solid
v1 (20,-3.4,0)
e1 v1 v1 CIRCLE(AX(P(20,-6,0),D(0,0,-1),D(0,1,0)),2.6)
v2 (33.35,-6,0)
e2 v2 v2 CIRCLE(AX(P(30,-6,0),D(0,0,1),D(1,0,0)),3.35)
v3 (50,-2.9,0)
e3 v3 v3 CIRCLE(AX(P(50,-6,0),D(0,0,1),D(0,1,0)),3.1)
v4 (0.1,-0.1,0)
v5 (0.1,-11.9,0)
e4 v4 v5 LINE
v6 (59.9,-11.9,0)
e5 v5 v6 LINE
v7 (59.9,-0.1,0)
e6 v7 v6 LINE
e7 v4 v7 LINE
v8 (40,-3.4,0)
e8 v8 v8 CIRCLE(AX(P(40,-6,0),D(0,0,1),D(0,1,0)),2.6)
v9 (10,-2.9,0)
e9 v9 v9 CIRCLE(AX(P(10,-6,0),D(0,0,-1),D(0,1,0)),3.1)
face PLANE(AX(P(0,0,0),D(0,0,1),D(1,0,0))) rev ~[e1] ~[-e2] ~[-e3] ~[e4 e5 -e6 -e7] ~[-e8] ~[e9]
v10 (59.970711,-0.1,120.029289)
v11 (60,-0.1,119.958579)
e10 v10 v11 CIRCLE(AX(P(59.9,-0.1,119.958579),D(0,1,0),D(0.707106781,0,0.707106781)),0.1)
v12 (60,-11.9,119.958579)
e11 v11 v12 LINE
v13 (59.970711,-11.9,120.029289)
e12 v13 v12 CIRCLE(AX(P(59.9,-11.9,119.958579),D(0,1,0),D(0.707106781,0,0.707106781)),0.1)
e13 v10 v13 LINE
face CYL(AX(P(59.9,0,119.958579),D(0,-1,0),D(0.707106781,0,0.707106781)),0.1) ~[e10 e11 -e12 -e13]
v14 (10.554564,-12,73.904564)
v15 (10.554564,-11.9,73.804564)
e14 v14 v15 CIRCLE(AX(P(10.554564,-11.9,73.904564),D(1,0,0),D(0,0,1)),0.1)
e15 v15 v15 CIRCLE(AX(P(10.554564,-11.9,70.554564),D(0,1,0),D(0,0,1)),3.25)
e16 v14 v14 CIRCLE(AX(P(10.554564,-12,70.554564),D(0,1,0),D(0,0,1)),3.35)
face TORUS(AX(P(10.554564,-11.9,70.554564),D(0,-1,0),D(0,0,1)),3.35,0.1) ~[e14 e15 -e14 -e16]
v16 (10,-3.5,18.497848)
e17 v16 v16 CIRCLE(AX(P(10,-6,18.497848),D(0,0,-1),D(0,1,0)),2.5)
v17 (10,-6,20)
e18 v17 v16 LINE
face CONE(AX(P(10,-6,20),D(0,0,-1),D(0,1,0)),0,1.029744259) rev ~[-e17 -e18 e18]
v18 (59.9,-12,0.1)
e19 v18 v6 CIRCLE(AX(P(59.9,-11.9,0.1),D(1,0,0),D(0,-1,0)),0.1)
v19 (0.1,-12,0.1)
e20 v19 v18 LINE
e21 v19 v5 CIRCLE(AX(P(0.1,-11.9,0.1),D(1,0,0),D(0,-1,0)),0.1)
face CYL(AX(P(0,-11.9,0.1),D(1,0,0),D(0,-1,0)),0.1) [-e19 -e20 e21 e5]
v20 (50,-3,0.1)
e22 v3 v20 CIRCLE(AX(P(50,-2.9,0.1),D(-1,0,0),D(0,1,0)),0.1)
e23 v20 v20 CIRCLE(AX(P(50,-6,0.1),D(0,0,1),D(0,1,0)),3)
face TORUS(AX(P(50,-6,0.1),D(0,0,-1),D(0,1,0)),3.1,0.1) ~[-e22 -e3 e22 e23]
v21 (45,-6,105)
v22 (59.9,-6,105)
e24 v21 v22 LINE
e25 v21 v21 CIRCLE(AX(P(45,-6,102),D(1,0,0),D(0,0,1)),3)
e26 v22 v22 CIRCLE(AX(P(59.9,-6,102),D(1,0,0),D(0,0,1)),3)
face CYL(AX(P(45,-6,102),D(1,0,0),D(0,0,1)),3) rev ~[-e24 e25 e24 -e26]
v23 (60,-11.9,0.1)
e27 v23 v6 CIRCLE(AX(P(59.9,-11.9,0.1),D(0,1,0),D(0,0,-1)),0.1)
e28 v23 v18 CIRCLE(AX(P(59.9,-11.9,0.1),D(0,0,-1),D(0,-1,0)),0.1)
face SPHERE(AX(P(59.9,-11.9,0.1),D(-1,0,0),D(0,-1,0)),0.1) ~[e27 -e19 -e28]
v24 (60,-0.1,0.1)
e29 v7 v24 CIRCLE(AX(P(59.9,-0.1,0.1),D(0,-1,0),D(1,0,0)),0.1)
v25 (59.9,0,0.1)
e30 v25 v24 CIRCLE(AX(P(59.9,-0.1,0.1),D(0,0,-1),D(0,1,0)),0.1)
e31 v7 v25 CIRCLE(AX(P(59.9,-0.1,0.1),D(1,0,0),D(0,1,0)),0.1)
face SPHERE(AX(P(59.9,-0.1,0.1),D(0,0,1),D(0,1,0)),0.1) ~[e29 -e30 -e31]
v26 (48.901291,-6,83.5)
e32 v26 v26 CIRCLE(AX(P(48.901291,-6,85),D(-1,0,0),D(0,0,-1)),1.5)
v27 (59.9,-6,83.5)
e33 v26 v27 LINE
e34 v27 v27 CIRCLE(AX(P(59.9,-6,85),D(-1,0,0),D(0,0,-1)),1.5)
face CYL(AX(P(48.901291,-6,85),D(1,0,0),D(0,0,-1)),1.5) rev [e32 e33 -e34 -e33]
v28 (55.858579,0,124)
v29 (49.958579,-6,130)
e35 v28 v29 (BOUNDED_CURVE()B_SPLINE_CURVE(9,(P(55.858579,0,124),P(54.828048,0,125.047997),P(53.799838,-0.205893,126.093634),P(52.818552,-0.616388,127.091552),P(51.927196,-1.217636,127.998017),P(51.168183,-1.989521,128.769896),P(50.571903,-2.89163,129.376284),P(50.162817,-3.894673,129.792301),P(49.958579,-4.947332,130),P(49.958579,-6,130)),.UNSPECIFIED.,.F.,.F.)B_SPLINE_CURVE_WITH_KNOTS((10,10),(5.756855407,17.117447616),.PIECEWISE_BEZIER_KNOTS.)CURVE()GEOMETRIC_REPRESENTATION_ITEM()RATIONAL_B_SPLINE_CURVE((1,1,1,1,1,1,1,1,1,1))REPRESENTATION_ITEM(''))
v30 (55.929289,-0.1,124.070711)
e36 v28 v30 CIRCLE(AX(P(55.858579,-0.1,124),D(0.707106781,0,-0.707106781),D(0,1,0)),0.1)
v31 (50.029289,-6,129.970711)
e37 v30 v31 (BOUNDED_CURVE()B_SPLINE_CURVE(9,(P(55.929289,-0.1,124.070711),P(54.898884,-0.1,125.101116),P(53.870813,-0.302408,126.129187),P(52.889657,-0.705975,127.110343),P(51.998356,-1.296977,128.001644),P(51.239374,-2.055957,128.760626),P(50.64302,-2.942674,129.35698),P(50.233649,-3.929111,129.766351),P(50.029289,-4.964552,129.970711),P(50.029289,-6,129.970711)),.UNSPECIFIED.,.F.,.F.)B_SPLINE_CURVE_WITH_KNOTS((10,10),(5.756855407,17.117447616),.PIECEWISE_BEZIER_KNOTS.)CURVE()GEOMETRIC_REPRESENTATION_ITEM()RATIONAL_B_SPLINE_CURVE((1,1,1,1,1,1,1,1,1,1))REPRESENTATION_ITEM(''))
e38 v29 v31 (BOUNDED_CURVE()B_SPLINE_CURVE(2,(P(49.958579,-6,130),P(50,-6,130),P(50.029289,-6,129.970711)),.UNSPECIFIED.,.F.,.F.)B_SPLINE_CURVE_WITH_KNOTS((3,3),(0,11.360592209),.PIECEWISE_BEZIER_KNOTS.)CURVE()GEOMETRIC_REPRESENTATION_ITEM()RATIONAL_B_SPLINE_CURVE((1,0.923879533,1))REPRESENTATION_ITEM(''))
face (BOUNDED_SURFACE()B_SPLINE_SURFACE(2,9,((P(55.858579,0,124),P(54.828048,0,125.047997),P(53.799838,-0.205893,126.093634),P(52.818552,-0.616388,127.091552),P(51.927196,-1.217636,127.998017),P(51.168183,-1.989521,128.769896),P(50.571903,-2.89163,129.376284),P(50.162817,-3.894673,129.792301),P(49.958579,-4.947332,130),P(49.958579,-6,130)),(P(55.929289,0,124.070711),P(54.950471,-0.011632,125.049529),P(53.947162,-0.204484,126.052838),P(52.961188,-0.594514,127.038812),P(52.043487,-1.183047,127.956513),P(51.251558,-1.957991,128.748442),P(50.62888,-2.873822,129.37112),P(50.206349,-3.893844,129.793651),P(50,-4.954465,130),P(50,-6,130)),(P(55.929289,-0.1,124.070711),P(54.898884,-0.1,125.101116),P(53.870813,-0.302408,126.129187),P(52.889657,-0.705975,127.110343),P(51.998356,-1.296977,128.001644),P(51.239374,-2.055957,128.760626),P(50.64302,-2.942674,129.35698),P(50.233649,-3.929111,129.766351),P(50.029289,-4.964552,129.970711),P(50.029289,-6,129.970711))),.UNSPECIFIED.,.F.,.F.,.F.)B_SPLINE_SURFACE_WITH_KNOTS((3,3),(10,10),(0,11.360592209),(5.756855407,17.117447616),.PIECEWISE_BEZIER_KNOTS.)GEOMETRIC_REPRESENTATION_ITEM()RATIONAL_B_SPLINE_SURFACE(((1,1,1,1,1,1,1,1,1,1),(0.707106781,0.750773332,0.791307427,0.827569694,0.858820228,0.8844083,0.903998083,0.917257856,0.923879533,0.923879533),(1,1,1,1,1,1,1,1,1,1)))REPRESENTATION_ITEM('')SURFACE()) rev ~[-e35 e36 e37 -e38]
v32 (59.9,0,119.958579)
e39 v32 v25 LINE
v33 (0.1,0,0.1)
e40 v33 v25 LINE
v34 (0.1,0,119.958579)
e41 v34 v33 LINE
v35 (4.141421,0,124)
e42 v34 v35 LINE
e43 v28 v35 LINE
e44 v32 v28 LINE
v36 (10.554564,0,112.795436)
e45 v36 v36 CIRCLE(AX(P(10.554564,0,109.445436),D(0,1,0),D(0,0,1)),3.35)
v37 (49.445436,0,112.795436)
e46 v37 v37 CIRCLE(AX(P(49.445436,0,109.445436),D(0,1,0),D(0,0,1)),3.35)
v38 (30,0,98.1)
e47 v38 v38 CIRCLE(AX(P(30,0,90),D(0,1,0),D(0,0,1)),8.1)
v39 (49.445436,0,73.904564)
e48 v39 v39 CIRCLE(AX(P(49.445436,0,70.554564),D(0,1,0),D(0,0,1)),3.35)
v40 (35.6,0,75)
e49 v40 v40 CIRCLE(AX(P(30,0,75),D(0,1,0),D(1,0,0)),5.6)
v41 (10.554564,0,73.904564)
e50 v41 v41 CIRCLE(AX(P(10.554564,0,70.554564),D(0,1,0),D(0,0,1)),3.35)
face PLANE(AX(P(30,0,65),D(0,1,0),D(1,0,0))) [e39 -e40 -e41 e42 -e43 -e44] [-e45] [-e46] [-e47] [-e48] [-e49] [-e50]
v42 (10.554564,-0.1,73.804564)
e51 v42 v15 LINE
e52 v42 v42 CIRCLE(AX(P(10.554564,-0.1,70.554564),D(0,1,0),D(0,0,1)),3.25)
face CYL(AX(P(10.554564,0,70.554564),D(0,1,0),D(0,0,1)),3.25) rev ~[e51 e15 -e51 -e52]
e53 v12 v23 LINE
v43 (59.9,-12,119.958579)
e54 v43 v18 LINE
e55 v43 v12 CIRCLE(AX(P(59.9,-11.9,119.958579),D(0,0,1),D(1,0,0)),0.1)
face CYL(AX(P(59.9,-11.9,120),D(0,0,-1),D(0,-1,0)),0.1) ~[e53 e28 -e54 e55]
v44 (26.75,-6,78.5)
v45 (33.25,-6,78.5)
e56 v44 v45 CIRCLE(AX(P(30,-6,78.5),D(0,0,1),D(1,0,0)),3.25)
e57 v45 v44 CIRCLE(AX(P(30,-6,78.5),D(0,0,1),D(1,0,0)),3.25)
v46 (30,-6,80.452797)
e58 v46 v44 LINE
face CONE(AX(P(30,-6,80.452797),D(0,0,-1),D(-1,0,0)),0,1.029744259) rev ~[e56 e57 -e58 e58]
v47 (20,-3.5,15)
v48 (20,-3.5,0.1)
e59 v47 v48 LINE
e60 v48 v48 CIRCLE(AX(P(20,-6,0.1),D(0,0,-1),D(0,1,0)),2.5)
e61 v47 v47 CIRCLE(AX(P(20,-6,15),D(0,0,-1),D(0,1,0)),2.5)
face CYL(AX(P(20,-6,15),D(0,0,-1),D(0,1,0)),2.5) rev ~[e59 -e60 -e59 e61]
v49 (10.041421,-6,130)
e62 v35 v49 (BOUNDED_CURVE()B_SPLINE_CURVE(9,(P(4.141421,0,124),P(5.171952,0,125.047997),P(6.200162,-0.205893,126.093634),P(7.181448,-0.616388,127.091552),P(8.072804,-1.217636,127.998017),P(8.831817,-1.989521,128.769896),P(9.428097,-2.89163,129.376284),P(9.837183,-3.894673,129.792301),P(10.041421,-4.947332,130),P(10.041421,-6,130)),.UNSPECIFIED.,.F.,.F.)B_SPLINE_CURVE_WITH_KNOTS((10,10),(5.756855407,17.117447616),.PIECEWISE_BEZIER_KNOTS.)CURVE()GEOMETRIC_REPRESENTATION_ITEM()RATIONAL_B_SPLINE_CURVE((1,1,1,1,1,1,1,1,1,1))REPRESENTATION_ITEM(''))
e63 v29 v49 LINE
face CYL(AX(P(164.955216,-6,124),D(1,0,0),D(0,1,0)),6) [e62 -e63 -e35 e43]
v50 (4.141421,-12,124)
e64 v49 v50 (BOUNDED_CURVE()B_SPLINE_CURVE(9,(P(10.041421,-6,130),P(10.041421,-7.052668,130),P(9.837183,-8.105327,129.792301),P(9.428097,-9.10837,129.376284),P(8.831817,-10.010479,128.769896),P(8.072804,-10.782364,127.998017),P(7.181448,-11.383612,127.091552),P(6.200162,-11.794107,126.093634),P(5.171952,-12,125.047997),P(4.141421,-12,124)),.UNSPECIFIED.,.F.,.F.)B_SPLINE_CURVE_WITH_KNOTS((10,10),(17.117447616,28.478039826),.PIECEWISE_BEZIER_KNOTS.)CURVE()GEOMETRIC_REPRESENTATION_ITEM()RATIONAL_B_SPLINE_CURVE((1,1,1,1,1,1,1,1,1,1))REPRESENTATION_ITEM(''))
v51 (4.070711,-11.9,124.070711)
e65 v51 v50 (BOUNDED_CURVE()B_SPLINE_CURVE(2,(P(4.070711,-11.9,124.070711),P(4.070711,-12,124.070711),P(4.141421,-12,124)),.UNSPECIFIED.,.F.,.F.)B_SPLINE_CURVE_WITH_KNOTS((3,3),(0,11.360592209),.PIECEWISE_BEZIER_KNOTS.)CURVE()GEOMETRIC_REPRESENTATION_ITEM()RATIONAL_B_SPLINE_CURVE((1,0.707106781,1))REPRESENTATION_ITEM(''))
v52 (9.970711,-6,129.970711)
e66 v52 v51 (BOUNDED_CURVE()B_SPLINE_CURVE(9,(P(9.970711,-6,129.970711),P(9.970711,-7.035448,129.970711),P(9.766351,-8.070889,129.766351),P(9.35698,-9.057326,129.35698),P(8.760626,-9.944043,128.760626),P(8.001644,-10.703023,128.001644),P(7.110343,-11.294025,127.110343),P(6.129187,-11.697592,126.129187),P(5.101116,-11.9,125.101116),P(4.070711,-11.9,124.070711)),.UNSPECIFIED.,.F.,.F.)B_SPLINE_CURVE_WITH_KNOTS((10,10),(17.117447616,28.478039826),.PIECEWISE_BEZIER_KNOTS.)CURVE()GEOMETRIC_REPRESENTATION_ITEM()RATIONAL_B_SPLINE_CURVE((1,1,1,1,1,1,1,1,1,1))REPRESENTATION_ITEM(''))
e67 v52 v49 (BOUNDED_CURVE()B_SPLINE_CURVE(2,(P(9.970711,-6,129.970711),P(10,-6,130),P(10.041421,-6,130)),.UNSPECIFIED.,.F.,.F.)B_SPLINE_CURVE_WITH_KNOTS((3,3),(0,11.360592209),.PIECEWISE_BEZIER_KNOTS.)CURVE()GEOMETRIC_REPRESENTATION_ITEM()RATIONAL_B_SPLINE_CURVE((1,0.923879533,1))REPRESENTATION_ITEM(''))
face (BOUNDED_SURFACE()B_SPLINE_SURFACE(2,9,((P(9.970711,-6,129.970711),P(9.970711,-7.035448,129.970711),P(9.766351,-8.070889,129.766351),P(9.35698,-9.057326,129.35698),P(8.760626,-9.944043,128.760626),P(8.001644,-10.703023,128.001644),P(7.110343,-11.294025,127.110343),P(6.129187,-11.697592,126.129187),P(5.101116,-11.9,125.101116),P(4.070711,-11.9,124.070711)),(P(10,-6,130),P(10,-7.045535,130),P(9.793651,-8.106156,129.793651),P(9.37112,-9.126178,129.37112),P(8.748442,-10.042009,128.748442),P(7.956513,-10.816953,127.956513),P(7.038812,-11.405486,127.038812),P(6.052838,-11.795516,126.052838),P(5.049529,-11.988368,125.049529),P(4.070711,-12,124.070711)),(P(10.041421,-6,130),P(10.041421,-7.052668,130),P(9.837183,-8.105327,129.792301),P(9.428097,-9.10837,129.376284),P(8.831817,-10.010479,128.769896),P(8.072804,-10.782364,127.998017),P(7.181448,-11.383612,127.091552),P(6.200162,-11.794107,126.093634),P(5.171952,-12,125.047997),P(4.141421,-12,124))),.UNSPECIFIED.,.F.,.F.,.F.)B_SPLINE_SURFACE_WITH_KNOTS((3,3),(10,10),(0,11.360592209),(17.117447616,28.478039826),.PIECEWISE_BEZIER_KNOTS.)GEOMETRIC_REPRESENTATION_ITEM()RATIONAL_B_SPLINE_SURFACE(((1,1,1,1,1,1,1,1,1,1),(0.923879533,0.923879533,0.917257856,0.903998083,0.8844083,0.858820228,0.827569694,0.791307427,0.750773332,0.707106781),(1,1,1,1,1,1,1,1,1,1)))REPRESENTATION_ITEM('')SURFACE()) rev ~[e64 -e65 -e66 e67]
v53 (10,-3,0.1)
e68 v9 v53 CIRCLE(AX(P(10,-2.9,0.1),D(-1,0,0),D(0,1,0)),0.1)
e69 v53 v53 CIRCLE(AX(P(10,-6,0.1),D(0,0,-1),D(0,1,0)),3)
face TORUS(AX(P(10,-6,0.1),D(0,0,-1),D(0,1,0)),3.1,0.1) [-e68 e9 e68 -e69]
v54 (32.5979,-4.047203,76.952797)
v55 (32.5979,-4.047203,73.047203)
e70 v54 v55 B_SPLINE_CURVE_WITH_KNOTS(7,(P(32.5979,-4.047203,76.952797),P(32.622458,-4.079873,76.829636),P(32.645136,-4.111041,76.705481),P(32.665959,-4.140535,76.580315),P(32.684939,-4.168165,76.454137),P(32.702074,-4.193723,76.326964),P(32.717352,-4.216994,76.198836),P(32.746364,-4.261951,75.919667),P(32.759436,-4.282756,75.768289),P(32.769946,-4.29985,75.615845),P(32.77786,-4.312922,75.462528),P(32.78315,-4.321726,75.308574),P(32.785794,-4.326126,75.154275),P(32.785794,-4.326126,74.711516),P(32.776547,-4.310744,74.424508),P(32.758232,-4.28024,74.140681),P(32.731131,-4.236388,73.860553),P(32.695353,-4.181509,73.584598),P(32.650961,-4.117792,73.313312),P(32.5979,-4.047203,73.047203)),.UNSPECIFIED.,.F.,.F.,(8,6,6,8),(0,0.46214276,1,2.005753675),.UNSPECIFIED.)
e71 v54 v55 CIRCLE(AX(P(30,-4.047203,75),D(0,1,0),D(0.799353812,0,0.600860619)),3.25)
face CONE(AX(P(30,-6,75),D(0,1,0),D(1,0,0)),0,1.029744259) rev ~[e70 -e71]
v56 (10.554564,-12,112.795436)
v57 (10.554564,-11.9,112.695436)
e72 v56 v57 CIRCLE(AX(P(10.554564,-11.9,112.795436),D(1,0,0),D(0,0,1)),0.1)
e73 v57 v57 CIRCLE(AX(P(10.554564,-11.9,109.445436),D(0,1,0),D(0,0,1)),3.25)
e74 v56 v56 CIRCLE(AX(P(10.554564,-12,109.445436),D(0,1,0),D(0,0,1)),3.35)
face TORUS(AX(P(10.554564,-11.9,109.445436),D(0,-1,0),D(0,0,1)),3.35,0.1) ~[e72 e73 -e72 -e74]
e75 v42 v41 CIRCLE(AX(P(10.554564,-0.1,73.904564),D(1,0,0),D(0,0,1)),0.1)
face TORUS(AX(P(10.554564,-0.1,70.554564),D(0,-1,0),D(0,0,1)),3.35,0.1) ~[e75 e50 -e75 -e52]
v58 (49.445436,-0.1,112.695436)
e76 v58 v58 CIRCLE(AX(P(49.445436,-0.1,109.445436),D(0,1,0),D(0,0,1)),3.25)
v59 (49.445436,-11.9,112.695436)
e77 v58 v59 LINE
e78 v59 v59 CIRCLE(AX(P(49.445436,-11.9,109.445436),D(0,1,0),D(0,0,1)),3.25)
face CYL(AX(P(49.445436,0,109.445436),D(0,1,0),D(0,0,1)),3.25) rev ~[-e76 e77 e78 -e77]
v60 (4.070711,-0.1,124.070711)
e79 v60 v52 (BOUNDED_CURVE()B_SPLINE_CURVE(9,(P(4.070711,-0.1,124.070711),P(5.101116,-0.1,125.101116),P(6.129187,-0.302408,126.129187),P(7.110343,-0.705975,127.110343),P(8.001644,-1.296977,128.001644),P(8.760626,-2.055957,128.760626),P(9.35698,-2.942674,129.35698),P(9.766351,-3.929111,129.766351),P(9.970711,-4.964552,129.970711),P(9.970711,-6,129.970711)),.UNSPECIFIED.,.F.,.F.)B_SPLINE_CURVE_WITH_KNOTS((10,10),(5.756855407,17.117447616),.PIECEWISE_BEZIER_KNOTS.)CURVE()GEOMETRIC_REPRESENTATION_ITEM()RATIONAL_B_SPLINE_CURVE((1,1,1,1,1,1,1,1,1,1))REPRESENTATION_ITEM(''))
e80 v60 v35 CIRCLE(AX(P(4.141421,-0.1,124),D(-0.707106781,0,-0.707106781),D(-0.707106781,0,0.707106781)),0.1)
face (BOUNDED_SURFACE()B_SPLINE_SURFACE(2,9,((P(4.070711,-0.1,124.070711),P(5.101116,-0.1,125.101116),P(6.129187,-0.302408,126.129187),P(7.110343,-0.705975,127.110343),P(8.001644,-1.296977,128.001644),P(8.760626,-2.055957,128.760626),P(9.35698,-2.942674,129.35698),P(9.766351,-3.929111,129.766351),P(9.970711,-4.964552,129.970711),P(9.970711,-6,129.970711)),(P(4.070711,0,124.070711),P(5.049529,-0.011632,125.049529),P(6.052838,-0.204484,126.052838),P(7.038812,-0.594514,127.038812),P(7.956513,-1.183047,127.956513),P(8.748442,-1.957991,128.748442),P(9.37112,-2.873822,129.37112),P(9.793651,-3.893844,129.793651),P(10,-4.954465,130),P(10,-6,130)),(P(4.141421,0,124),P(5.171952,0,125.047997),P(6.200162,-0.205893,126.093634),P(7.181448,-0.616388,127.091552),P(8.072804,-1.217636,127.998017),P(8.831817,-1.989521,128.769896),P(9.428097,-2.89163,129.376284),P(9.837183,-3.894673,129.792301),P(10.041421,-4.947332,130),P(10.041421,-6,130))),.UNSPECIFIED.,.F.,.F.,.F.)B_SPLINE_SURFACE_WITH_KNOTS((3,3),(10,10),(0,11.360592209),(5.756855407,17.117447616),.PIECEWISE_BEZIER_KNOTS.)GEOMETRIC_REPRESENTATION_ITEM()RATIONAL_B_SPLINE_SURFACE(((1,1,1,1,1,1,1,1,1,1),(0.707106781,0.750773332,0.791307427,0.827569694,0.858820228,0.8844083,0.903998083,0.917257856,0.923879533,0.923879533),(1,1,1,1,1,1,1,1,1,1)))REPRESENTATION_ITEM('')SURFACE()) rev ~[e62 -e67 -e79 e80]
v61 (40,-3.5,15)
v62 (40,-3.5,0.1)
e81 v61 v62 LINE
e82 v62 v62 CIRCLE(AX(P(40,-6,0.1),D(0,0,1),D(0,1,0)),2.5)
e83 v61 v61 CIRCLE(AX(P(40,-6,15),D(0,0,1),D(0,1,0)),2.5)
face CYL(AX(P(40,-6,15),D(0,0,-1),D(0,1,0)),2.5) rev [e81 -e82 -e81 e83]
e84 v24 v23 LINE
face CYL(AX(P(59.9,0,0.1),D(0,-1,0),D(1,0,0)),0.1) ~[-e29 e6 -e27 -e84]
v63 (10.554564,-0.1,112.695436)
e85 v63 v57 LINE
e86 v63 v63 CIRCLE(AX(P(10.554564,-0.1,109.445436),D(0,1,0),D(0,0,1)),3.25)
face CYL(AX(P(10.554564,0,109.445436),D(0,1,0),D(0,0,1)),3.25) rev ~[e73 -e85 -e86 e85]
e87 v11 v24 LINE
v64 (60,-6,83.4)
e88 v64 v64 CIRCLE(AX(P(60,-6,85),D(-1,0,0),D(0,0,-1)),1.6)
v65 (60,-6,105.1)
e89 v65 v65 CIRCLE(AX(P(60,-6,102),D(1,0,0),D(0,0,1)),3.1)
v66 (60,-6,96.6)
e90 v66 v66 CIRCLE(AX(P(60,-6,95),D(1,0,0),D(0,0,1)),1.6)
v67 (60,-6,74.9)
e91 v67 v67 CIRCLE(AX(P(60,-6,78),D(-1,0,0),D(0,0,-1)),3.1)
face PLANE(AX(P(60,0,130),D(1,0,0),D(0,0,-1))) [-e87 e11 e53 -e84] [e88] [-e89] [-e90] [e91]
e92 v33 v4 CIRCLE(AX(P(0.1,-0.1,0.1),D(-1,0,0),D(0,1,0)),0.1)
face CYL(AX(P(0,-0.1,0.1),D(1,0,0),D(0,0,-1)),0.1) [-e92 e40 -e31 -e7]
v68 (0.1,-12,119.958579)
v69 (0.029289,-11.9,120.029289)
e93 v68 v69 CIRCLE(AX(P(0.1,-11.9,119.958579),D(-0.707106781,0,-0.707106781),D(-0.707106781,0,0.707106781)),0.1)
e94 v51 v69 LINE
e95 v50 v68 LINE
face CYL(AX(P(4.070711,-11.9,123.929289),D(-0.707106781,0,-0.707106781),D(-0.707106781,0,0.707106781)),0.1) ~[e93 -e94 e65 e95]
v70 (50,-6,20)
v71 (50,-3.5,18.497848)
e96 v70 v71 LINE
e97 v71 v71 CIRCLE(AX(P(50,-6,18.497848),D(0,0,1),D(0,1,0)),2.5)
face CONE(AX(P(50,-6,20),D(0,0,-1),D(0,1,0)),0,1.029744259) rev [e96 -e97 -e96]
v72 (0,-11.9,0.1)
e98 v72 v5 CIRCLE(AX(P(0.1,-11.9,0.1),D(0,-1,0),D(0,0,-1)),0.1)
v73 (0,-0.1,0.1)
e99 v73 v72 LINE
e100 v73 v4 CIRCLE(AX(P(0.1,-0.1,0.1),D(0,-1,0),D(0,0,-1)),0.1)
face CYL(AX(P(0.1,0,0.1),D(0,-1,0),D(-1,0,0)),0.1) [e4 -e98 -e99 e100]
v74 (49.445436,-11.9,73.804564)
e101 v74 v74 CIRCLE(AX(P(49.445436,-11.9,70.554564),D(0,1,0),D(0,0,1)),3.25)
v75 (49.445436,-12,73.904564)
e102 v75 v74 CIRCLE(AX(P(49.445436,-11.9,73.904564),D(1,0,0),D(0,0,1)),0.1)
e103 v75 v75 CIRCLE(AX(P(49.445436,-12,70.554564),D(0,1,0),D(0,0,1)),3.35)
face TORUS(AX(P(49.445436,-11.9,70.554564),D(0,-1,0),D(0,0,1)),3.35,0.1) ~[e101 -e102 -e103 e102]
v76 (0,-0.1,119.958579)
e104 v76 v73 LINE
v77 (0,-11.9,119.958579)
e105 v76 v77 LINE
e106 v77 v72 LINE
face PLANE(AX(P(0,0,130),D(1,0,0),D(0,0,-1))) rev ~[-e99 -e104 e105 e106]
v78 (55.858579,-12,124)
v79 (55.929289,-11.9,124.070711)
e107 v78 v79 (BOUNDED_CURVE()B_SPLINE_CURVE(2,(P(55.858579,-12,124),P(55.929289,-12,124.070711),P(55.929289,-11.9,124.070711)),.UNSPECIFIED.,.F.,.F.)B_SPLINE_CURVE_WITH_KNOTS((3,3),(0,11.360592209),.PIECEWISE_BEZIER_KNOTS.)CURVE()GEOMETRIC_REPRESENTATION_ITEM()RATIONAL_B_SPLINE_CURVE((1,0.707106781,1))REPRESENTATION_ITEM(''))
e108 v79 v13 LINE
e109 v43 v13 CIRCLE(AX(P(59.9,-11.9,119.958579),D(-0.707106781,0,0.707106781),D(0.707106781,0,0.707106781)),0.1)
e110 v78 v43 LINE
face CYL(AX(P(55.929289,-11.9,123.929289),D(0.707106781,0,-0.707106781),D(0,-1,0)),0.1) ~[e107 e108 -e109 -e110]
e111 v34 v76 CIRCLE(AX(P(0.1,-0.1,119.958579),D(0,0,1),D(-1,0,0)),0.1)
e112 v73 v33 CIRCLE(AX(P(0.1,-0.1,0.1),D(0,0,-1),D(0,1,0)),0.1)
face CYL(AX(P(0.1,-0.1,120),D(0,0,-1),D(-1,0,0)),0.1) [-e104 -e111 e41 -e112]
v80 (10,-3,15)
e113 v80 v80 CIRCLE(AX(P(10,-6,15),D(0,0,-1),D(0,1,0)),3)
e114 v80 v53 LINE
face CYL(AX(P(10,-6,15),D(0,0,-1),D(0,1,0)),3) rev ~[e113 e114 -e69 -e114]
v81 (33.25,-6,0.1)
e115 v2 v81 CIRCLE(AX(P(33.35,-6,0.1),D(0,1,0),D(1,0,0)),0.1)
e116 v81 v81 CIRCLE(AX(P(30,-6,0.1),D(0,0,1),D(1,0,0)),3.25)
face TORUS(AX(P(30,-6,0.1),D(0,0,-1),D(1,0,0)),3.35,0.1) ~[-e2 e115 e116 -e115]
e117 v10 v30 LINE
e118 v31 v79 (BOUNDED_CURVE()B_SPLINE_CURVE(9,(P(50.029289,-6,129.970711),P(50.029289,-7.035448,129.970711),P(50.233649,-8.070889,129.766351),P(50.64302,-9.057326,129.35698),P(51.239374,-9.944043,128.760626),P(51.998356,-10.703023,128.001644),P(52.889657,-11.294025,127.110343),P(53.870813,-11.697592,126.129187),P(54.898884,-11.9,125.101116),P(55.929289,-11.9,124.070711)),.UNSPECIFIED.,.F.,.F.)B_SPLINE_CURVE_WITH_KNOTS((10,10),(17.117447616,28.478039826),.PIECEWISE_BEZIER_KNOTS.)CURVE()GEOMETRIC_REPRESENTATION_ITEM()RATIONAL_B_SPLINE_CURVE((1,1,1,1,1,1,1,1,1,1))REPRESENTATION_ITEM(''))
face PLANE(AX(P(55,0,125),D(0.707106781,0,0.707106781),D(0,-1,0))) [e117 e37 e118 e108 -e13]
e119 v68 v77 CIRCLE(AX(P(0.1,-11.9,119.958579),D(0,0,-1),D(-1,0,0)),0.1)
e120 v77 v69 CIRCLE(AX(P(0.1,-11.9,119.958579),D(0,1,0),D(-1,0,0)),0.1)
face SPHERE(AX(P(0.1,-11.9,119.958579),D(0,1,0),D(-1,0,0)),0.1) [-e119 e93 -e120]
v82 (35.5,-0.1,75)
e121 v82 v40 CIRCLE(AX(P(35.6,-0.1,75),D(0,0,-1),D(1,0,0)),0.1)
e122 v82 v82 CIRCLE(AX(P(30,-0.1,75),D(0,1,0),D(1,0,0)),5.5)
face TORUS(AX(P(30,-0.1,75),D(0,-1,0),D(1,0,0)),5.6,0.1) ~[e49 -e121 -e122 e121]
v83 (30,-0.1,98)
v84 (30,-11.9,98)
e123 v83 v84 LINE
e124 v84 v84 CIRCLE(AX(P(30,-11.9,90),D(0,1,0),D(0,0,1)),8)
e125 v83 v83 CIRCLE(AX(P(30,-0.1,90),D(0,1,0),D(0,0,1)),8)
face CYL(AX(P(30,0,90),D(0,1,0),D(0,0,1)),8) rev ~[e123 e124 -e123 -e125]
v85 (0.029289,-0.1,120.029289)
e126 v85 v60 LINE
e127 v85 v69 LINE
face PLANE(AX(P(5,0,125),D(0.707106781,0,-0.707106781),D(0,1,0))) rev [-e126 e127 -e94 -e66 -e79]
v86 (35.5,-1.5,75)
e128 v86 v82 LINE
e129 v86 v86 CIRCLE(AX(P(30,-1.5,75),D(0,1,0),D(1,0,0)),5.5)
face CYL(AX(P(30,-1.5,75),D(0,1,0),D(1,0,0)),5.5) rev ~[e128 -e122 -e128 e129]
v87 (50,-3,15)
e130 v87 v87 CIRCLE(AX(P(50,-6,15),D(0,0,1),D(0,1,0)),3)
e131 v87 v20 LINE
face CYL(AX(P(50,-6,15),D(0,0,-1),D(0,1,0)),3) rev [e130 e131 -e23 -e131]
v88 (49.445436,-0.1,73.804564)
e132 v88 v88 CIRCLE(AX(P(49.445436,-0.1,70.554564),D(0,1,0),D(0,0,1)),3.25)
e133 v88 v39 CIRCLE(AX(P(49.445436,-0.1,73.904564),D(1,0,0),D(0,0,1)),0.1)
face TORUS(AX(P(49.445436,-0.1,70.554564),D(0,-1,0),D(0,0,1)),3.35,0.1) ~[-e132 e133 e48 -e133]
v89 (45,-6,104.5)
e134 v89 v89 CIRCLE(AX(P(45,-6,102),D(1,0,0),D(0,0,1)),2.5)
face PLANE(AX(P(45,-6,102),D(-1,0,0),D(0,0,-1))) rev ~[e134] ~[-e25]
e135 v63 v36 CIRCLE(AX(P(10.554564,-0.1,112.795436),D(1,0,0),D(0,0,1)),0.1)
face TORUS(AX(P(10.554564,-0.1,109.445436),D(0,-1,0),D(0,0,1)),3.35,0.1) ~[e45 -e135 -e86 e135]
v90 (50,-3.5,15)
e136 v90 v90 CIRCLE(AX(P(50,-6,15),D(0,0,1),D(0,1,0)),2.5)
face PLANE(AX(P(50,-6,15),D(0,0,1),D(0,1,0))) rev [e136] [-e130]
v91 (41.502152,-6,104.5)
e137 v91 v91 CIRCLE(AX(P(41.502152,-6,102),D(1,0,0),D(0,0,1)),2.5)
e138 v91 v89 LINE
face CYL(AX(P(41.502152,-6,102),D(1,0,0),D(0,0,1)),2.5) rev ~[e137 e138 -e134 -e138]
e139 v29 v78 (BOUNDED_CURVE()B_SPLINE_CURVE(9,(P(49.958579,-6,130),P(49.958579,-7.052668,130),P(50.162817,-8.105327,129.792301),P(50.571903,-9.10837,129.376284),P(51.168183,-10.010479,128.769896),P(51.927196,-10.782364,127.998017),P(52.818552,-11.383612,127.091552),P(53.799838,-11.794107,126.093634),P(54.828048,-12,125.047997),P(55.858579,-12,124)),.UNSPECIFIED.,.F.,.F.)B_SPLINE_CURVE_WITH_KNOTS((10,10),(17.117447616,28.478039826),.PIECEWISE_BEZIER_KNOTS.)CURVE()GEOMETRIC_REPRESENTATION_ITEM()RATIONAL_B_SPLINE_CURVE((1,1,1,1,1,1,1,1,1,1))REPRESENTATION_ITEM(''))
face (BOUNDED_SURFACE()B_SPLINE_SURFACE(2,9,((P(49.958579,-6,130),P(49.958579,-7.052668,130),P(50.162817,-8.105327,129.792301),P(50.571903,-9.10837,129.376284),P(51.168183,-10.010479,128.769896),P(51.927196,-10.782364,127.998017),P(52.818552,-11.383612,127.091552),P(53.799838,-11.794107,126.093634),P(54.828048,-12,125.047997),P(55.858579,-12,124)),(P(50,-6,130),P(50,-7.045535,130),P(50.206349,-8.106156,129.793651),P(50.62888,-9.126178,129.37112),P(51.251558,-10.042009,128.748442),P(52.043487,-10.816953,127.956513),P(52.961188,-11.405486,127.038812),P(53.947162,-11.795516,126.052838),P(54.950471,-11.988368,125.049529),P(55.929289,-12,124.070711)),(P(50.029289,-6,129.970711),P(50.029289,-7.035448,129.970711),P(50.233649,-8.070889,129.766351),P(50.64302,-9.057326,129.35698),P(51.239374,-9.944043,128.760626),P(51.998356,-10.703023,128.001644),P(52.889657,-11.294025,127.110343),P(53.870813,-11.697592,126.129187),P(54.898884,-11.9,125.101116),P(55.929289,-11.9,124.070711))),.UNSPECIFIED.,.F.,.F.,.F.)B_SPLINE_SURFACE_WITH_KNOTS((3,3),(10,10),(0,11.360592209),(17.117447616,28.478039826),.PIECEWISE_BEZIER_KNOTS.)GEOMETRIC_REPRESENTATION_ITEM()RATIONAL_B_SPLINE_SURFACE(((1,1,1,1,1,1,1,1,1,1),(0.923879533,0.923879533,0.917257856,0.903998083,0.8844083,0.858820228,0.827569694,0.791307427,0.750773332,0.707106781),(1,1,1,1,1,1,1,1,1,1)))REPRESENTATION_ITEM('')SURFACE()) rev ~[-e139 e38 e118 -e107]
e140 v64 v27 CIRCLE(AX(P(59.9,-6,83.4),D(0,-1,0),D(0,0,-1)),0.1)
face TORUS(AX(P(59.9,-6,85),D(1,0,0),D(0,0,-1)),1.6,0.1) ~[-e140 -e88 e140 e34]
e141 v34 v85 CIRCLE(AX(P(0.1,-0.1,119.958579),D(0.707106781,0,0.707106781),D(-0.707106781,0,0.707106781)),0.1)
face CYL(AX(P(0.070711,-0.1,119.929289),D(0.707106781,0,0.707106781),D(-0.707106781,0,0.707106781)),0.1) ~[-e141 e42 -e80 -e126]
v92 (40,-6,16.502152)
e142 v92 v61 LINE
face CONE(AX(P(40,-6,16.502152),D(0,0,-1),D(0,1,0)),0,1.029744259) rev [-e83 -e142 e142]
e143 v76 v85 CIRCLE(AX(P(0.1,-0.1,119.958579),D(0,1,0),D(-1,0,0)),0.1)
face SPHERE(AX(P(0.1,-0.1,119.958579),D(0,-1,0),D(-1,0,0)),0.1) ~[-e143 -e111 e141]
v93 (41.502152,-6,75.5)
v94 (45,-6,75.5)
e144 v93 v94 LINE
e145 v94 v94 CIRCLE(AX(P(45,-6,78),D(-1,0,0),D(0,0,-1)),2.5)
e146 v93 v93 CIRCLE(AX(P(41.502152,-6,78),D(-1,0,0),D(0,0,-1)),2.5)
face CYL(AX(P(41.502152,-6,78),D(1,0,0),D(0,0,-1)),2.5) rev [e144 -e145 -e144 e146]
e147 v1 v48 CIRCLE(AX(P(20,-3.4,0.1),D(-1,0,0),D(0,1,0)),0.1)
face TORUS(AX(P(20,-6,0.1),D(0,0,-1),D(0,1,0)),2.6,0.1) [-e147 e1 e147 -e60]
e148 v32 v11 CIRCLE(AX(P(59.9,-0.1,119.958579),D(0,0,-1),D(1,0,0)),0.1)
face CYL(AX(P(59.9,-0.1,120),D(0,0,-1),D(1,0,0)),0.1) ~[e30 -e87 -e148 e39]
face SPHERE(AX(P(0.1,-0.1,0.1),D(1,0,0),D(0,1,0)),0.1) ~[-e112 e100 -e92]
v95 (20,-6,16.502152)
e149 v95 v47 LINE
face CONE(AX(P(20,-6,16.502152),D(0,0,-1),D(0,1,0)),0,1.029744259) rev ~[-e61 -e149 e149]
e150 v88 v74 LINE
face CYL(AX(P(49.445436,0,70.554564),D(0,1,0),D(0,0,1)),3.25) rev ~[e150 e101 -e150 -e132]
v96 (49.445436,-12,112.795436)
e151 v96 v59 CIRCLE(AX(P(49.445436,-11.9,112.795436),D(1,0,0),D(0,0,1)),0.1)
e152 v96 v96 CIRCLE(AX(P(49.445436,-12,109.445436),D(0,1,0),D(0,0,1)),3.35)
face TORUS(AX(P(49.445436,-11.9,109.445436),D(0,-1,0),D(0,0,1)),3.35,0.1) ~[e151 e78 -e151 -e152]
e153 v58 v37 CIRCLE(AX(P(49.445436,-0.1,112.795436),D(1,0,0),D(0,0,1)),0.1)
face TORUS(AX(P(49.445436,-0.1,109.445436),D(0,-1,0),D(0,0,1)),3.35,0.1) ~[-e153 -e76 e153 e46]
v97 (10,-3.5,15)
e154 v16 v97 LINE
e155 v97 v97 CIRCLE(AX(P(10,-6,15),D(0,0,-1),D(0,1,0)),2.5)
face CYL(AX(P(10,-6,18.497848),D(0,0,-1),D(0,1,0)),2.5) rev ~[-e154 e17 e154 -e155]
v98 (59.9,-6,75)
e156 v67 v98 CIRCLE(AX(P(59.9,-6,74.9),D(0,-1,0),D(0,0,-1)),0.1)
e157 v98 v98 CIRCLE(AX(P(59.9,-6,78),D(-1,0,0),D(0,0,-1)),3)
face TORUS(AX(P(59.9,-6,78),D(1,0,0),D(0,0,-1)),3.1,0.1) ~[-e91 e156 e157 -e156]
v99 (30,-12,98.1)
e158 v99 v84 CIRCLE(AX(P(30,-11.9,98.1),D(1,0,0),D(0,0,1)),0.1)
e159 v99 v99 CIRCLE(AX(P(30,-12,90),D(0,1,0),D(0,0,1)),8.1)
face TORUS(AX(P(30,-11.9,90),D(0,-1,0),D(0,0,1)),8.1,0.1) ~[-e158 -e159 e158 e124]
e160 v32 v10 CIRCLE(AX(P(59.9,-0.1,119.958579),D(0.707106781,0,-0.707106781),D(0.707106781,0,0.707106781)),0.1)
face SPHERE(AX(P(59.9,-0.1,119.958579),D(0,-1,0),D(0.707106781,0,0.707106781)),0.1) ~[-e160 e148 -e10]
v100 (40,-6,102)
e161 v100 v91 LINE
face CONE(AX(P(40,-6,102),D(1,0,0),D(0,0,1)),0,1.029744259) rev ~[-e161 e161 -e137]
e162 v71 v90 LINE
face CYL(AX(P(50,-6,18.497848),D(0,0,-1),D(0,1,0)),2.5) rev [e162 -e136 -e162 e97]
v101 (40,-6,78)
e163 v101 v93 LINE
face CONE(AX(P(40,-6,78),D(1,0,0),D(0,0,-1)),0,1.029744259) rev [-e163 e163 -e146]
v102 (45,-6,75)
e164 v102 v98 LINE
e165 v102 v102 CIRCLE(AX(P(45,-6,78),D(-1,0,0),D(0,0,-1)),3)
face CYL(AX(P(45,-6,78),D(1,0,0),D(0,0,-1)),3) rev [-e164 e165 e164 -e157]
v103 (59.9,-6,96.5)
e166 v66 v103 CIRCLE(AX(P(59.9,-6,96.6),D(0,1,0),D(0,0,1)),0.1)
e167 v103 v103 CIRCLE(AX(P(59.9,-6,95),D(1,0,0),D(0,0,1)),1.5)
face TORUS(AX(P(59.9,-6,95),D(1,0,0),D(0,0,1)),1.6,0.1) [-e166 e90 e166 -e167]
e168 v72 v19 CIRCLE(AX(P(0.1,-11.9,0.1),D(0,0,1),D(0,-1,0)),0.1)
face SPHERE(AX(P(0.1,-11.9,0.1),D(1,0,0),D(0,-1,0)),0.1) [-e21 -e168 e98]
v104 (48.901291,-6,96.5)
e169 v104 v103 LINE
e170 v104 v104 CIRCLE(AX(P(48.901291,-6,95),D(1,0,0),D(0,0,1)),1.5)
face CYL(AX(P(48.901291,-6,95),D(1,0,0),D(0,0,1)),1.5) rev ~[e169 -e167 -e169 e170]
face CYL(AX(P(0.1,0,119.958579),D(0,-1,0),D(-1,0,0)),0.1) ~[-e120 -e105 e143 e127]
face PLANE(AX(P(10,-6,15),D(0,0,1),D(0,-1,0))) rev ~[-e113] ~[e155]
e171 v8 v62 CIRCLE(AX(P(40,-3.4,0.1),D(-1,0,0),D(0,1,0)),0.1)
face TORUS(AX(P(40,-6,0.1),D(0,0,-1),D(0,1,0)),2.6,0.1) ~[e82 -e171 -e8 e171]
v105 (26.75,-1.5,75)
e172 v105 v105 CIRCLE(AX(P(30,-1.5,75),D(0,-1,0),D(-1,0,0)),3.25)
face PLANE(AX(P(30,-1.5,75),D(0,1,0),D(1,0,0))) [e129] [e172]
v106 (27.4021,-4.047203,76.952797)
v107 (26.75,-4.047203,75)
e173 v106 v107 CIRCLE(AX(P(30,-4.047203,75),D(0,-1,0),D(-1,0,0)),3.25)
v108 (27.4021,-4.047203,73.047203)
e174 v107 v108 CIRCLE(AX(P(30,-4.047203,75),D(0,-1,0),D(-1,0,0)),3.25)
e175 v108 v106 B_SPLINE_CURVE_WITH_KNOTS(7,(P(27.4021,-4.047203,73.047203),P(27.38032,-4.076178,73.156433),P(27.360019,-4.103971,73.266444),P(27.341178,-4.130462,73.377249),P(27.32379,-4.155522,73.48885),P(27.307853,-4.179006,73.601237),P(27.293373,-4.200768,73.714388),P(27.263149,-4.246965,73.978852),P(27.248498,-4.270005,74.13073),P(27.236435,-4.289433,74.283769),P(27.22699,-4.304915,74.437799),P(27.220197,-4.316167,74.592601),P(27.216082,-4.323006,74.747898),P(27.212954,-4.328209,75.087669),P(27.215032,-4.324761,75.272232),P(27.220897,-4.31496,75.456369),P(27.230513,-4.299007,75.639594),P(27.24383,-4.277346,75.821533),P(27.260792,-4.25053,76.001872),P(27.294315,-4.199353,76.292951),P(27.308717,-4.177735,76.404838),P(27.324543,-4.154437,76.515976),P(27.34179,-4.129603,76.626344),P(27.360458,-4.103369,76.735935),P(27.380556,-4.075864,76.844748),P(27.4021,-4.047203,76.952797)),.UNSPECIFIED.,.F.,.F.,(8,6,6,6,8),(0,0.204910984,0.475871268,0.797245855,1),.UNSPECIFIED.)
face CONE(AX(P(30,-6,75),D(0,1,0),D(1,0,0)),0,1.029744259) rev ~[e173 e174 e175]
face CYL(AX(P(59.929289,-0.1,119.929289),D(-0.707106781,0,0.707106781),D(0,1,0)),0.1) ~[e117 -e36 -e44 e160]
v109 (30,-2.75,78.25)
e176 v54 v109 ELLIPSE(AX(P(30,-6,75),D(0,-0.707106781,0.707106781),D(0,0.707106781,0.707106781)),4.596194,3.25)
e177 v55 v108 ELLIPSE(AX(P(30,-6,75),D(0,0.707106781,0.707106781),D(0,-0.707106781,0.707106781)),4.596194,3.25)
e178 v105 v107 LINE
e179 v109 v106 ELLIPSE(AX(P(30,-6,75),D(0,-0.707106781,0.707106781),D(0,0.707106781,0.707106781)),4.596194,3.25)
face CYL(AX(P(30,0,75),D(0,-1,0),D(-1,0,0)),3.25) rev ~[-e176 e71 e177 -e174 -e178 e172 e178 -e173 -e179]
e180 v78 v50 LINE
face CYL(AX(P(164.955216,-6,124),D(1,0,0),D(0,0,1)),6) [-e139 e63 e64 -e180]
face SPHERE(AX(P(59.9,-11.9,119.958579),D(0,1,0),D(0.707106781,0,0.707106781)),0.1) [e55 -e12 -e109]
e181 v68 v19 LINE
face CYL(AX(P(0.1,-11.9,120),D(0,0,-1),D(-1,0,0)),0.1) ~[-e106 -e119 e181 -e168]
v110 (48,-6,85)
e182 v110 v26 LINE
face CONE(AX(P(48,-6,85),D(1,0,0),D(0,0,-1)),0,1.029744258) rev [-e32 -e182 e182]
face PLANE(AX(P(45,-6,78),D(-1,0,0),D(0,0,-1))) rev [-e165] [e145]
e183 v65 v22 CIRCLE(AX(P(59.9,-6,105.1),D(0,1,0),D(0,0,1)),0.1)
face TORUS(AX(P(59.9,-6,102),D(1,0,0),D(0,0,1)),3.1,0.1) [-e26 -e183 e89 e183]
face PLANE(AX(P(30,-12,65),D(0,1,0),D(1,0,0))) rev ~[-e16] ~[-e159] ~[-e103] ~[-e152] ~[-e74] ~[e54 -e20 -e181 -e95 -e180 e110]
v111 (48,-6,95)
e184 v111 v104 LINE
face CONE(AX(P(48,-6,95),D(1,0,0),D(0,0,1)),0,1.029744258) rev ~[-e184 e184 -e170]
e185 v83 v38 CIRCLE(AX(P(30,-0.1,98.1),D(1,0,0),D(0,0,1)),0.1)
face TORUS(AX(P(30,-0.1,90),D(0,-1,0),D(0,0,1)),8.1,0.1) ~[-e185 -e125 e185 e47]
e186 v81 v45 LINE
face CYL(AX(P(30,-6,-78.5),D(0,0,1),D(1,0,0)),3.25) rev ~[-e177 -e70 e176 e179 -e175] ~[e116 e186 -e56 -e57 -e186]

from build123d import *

# Parameters (mm, degrees)
SKETCH1_W                               = 60
SKETCH1_H                               = 130
SKETCH1_R                               = 8
SKETCH1_R_2                             = 3.25
BOSS_EXTRUDE1_DEPTH                     = 12
CHAMFER1_SIZE                           = 10
CUT_EXTRUDE1_DEPTH                      = 134.955216397
CUT_EXTRUDE1_DEPTH_BACK                 = 134.955216397
F_6_0MM_DOWEL_HOLE1_D                   = 6.5
F_6_0MM_DOWEL_HOLE1_DEPTH               = 78.5
F_6_0MM_DOWEL_HOLE1_TIP                 = 1.952797012
CBORE_FOR_M6_HEX_HEAD_BOLT1_D           = 6.5
CBORE_FOR_M6_HEX_HEAD_BOLT1_DEPTH       = 4.047202988
CBORE_FOR_M6_HEX_HEAD_BOLT1_CBORE_D     = 11
CBORE_FOR_M6_HEX_HEAD_BOLT1_CBORE_DEPTH = 1.5
CBORE_FOR_M6_HEX_HEAD_BOLT1_TIP         = 1.952797012
FILLET4_R                               = 0.1


with BuildPart() as part:
    # Sketch1 → Boss-Extrude1 (new body)
    with BuildSketch(Plane(origin=(0, 0, 0), x_dir=(1, 0, 0), z_dir=(0, 1, 0))):
        with Locations((30, -65)):
            Rectangle(SKETCH1_W, SKETCH1_H)
        with Locations(Location((30, -90, 0), (0, 0, 270))):
            Circle(SKETCH1_R, mode=Mode.SUBTRACT)
        with Locations(Location((49.445436483, -70.554563517, 0), (0, 0, 270))):
            Circle(SKETCH1_R_2, mode=Mode.SUBTRACT)
        with Locations(Location((49.445436483, -109.445436483, 0), (0, 0, 270))):
            Circle(SKETCH1_R_2, mode=Mode.SUBTRACT)
        with Locations(Location((10.554563517, -109.445436483, 0), (0, 0, 270))):
            Circle(SKETCH1_R_2, mode=Mode.SUBTRACT)
        with Locations(Location((10.554563517, -70.554563517, 0), (0, 0, 270))):
            Circle(SKETCH1_R_2, mode=Mode.SUBTRACT)
    extrude(amount=-BOSS_EXTRUDE1_DEPTH)

    # Chamfer1
    chamfer1_edges = [part.edges().sort_by_distance(p)[0] for p in [
        (60, -6, 130),
        (0, -6, 130),
    ]]
    chamfer(chamfer1_edges, length=CHAMFER1_SIZE)

    # Sketch2 → Cut-Extrude1 (cut, two sides: drawn at the far end of the back side and taken through both)
    with BuildSketch(Plane.ZY.offset(-30).offset(-CUT_EXTRUDE1_DEPTH_BACK)):
        with BuildLine():
            Line((130, 0), (124, 0))
            ThreePointArc((124, 0), (128.242640687, -1.757359313), (130, -6))
            Line((130, -6), (130, 0))
        make_face()
        with BuildLine():
            ThreePointArc((130, -6), (128.242640687, -10.242640687), (124, -12))
            Line((124, -12), (130, -12))
            Line((130, -12), (130, -6))
        make_face()
    extrude(amount=CUT_EXTRUDE1_DEPTH + CUT_EXTRUDE1_DEPTH_BACK, mode=Mode.SUBTRACT)

    # Sketch5 → M6x1.0 Tapped Hole1 (revolve, cut)
    with BuildSketch(Plane(origin=(50, -6, 0), x_dir=(0, 1, 0), z_dir=(1, 0, 0))):
        Polygon((0, 0), (0, 20), (2.5, 18.497848452), (2.5, 15), (3, 15), (3, 0), align=None)
    m6x1_0_tapped_hole1 = revolve(axis=Axis((50, -6, -6.35), (0, 0, 1)), mode=Mode.SUBTRACT)

    # Sketch8 → Ø5.0mm Dowel Hole1 (revolve, cut)
    with BuildSketch(Plane(origin=(40, -6, 0), x_dir=(0, 1, 0), z_dir=(1, 0, 0))):
        Polygon((0, 0), (0, 16.502151548), (2.5, 15), (2.5, 0), align=None)
    f_5_0mm_dowel_hole1 = revolve(axis=Axis((40, -6, -6.35), (0, 0, 1)), mode=Mode.SUBTRACT)

    # Mirror1: M6x1.0 Tapped Hole1, Ø5.0mm Dowel Hole1 across plane
    add(m6x1_0_tapped_hole1.mirror(Plane.ZY.offset(-30)), mode=Mode.SUBTRACT)
    add(f_5_0mm_dowel_hole1.mirror(Plane.ZY.offset(-30)), mode=Mode.SUBTRACT)

    # Ø6.0mm Dowel Hole1
    with Locations(Plane(origin=(0, 0, 0), x_dir=(-1, 0, 0), z_dir=(0, 0, -1))):
        with Locations((-30, -6)):
            Hole(F_6_0MM_DOWEL_HOLE1_D / 2, depth=F_6_0MM_DOWEL_HOLE1_DEPTH)
            with Locations((0, 0, -(F_6_0MM_DOWEL_HOLE1_DEPTH + F_6_0MM_DOWEL_HOLE1_TIP / 2))):  # 118° drill point
                Cone(0, F_6_0MM_DOWEL_HOLE1_D / 2, F_6_0MM_DOWEL_HOLE1_TIP, mode=Mode.SUBTRACT)

    # Sketch13 → Ø3.0mm Dowel Hole1 (revolve, cut)
    with BuildSketch(Plane(origin=(60, -6, 85), x_dir=(0, 0, -1), z_dir=(0, 1, 0))):
        Polygon((0, 0), (0, 12), (1.5, 11.098709071), (1.5, 0), align=None)
    f_3_0mm_dowel_hole1 = revolve(axis=Axis((66.35, -6, 85), (-1, 0, 0)), mode=Mode.SUBTRACT)

    # Sketch15 → M6x1.0 Tapped Hole2 (revolve, cut)
    with BuildSketch(Plane(origin=(60, -6, 78), x_dir=(0, 0, -1), z_dir=(0, 1, 0))):
        Polygon((0, 0), (0, 20), (2.5, 18.497848452), (2.5, 15), (3, 15), (3, 0), align=None)
    m6x1_0_tapped_hole2 = revolve(axis=Axis((66.35, -6, 78), (-1, 0, 0)), mode=Mode.SUBTRACT)

    # Mirror2: Ø3.0mm Dowel Hole1, M6x1.0 Tapped Hole2 across plane
    add(f_3_0mm_dowel_hole1.mirror(Plane.XY.offset(90)), mode=Mode.SUBTRACT)
    add(m6x1_0_tapped_hole2.mirror(Plane.XY.offset(90)), mode=Mode.SUBTRACT)

    # CBORE for M6 Hex Head Bolt1
    with Locations(Plane(origin=(0, 0, 0), x_dir=(1, 0, 0), z_dir=(0, 1, 0))):
        with Locations((30, -75)):
            CounterBoreHole(CBORE_FOR_M6_HEX_HEAD_BOLT1_D / 2, CBORE_FOR_M6_HEX_HEAD_BOLT1_CBORE_D / 2, CBORE_FOR_M6_HEX_HEAD_BOLT1_CBORE_DEPTH, depth=CBORE_FOR_M6_HEX_HEAD_BOLT1_DEPTH)
            with Locations((0, 0, -(CBORE_FOR_M6_HEX_HEAD_BOLT1_DEPTH + CBORE_FOR_M6_HEX_HEAD_BOLT1_TIP / 2))):  # 118° drill point
                Cone(0, CBORE_FOR_M6_HEX_HEAD_BOLT1_D / 2, CBORE_FOR_M6_HEX_HEAD_BOLT1_TIP, mode=Mode.SUBTRACT)

    # Fillet4
    fillet4_edges = [part.edges().sort_by_distance(p)[0] for p in [
        (20, -8.5, 0),
        (26.75, -6, 0),
        (60, -6, 86.5),
        (60, -6, 81),
        (60, -6, 93.5),
        (30, -12, 82),
        (60, -6, 99),
        (30, 0, 82),
        (24.5, 0, 75),
        (49.445436483, -12, 67.304563517),
        (49.445436483, 0, 67.304563517),
        (30, -12, 0),
        (49.445436483, -12, 106.195436483),
        (49.445436483, 0, 106.195436483),
        (10.554563517, -12, 106.195436483),
        (10.554563517, 0, 106.195436483),
        (10.554563517, -12, 67.304563517),
        (10.554563517, 0, 67.304563517),
        (60, 0, 60),
        (2, 0, 122),
        (60, -12, 60),
        (60, -6, 120),
        (58, -12, 122),
        (0, -6, 120),
        (7.876293445, -1.420223899, 127.876293445),
        (58, 0, 122),
        (0, -12, 60),
        (30, 0, 0),
        (52.123706555, -10.579776101, 127.876293445),
        (0, 0, 60),
        (2, -12, 122),
        (0, -6, 0),
        (60, -6, 0),
        (50, -9, 0),
        (40, -8.5, 0),
        (10, -9, 0),
    ]]
    fillet(fillet4_edges, radius=FILLET4_R)


solid = part.part
